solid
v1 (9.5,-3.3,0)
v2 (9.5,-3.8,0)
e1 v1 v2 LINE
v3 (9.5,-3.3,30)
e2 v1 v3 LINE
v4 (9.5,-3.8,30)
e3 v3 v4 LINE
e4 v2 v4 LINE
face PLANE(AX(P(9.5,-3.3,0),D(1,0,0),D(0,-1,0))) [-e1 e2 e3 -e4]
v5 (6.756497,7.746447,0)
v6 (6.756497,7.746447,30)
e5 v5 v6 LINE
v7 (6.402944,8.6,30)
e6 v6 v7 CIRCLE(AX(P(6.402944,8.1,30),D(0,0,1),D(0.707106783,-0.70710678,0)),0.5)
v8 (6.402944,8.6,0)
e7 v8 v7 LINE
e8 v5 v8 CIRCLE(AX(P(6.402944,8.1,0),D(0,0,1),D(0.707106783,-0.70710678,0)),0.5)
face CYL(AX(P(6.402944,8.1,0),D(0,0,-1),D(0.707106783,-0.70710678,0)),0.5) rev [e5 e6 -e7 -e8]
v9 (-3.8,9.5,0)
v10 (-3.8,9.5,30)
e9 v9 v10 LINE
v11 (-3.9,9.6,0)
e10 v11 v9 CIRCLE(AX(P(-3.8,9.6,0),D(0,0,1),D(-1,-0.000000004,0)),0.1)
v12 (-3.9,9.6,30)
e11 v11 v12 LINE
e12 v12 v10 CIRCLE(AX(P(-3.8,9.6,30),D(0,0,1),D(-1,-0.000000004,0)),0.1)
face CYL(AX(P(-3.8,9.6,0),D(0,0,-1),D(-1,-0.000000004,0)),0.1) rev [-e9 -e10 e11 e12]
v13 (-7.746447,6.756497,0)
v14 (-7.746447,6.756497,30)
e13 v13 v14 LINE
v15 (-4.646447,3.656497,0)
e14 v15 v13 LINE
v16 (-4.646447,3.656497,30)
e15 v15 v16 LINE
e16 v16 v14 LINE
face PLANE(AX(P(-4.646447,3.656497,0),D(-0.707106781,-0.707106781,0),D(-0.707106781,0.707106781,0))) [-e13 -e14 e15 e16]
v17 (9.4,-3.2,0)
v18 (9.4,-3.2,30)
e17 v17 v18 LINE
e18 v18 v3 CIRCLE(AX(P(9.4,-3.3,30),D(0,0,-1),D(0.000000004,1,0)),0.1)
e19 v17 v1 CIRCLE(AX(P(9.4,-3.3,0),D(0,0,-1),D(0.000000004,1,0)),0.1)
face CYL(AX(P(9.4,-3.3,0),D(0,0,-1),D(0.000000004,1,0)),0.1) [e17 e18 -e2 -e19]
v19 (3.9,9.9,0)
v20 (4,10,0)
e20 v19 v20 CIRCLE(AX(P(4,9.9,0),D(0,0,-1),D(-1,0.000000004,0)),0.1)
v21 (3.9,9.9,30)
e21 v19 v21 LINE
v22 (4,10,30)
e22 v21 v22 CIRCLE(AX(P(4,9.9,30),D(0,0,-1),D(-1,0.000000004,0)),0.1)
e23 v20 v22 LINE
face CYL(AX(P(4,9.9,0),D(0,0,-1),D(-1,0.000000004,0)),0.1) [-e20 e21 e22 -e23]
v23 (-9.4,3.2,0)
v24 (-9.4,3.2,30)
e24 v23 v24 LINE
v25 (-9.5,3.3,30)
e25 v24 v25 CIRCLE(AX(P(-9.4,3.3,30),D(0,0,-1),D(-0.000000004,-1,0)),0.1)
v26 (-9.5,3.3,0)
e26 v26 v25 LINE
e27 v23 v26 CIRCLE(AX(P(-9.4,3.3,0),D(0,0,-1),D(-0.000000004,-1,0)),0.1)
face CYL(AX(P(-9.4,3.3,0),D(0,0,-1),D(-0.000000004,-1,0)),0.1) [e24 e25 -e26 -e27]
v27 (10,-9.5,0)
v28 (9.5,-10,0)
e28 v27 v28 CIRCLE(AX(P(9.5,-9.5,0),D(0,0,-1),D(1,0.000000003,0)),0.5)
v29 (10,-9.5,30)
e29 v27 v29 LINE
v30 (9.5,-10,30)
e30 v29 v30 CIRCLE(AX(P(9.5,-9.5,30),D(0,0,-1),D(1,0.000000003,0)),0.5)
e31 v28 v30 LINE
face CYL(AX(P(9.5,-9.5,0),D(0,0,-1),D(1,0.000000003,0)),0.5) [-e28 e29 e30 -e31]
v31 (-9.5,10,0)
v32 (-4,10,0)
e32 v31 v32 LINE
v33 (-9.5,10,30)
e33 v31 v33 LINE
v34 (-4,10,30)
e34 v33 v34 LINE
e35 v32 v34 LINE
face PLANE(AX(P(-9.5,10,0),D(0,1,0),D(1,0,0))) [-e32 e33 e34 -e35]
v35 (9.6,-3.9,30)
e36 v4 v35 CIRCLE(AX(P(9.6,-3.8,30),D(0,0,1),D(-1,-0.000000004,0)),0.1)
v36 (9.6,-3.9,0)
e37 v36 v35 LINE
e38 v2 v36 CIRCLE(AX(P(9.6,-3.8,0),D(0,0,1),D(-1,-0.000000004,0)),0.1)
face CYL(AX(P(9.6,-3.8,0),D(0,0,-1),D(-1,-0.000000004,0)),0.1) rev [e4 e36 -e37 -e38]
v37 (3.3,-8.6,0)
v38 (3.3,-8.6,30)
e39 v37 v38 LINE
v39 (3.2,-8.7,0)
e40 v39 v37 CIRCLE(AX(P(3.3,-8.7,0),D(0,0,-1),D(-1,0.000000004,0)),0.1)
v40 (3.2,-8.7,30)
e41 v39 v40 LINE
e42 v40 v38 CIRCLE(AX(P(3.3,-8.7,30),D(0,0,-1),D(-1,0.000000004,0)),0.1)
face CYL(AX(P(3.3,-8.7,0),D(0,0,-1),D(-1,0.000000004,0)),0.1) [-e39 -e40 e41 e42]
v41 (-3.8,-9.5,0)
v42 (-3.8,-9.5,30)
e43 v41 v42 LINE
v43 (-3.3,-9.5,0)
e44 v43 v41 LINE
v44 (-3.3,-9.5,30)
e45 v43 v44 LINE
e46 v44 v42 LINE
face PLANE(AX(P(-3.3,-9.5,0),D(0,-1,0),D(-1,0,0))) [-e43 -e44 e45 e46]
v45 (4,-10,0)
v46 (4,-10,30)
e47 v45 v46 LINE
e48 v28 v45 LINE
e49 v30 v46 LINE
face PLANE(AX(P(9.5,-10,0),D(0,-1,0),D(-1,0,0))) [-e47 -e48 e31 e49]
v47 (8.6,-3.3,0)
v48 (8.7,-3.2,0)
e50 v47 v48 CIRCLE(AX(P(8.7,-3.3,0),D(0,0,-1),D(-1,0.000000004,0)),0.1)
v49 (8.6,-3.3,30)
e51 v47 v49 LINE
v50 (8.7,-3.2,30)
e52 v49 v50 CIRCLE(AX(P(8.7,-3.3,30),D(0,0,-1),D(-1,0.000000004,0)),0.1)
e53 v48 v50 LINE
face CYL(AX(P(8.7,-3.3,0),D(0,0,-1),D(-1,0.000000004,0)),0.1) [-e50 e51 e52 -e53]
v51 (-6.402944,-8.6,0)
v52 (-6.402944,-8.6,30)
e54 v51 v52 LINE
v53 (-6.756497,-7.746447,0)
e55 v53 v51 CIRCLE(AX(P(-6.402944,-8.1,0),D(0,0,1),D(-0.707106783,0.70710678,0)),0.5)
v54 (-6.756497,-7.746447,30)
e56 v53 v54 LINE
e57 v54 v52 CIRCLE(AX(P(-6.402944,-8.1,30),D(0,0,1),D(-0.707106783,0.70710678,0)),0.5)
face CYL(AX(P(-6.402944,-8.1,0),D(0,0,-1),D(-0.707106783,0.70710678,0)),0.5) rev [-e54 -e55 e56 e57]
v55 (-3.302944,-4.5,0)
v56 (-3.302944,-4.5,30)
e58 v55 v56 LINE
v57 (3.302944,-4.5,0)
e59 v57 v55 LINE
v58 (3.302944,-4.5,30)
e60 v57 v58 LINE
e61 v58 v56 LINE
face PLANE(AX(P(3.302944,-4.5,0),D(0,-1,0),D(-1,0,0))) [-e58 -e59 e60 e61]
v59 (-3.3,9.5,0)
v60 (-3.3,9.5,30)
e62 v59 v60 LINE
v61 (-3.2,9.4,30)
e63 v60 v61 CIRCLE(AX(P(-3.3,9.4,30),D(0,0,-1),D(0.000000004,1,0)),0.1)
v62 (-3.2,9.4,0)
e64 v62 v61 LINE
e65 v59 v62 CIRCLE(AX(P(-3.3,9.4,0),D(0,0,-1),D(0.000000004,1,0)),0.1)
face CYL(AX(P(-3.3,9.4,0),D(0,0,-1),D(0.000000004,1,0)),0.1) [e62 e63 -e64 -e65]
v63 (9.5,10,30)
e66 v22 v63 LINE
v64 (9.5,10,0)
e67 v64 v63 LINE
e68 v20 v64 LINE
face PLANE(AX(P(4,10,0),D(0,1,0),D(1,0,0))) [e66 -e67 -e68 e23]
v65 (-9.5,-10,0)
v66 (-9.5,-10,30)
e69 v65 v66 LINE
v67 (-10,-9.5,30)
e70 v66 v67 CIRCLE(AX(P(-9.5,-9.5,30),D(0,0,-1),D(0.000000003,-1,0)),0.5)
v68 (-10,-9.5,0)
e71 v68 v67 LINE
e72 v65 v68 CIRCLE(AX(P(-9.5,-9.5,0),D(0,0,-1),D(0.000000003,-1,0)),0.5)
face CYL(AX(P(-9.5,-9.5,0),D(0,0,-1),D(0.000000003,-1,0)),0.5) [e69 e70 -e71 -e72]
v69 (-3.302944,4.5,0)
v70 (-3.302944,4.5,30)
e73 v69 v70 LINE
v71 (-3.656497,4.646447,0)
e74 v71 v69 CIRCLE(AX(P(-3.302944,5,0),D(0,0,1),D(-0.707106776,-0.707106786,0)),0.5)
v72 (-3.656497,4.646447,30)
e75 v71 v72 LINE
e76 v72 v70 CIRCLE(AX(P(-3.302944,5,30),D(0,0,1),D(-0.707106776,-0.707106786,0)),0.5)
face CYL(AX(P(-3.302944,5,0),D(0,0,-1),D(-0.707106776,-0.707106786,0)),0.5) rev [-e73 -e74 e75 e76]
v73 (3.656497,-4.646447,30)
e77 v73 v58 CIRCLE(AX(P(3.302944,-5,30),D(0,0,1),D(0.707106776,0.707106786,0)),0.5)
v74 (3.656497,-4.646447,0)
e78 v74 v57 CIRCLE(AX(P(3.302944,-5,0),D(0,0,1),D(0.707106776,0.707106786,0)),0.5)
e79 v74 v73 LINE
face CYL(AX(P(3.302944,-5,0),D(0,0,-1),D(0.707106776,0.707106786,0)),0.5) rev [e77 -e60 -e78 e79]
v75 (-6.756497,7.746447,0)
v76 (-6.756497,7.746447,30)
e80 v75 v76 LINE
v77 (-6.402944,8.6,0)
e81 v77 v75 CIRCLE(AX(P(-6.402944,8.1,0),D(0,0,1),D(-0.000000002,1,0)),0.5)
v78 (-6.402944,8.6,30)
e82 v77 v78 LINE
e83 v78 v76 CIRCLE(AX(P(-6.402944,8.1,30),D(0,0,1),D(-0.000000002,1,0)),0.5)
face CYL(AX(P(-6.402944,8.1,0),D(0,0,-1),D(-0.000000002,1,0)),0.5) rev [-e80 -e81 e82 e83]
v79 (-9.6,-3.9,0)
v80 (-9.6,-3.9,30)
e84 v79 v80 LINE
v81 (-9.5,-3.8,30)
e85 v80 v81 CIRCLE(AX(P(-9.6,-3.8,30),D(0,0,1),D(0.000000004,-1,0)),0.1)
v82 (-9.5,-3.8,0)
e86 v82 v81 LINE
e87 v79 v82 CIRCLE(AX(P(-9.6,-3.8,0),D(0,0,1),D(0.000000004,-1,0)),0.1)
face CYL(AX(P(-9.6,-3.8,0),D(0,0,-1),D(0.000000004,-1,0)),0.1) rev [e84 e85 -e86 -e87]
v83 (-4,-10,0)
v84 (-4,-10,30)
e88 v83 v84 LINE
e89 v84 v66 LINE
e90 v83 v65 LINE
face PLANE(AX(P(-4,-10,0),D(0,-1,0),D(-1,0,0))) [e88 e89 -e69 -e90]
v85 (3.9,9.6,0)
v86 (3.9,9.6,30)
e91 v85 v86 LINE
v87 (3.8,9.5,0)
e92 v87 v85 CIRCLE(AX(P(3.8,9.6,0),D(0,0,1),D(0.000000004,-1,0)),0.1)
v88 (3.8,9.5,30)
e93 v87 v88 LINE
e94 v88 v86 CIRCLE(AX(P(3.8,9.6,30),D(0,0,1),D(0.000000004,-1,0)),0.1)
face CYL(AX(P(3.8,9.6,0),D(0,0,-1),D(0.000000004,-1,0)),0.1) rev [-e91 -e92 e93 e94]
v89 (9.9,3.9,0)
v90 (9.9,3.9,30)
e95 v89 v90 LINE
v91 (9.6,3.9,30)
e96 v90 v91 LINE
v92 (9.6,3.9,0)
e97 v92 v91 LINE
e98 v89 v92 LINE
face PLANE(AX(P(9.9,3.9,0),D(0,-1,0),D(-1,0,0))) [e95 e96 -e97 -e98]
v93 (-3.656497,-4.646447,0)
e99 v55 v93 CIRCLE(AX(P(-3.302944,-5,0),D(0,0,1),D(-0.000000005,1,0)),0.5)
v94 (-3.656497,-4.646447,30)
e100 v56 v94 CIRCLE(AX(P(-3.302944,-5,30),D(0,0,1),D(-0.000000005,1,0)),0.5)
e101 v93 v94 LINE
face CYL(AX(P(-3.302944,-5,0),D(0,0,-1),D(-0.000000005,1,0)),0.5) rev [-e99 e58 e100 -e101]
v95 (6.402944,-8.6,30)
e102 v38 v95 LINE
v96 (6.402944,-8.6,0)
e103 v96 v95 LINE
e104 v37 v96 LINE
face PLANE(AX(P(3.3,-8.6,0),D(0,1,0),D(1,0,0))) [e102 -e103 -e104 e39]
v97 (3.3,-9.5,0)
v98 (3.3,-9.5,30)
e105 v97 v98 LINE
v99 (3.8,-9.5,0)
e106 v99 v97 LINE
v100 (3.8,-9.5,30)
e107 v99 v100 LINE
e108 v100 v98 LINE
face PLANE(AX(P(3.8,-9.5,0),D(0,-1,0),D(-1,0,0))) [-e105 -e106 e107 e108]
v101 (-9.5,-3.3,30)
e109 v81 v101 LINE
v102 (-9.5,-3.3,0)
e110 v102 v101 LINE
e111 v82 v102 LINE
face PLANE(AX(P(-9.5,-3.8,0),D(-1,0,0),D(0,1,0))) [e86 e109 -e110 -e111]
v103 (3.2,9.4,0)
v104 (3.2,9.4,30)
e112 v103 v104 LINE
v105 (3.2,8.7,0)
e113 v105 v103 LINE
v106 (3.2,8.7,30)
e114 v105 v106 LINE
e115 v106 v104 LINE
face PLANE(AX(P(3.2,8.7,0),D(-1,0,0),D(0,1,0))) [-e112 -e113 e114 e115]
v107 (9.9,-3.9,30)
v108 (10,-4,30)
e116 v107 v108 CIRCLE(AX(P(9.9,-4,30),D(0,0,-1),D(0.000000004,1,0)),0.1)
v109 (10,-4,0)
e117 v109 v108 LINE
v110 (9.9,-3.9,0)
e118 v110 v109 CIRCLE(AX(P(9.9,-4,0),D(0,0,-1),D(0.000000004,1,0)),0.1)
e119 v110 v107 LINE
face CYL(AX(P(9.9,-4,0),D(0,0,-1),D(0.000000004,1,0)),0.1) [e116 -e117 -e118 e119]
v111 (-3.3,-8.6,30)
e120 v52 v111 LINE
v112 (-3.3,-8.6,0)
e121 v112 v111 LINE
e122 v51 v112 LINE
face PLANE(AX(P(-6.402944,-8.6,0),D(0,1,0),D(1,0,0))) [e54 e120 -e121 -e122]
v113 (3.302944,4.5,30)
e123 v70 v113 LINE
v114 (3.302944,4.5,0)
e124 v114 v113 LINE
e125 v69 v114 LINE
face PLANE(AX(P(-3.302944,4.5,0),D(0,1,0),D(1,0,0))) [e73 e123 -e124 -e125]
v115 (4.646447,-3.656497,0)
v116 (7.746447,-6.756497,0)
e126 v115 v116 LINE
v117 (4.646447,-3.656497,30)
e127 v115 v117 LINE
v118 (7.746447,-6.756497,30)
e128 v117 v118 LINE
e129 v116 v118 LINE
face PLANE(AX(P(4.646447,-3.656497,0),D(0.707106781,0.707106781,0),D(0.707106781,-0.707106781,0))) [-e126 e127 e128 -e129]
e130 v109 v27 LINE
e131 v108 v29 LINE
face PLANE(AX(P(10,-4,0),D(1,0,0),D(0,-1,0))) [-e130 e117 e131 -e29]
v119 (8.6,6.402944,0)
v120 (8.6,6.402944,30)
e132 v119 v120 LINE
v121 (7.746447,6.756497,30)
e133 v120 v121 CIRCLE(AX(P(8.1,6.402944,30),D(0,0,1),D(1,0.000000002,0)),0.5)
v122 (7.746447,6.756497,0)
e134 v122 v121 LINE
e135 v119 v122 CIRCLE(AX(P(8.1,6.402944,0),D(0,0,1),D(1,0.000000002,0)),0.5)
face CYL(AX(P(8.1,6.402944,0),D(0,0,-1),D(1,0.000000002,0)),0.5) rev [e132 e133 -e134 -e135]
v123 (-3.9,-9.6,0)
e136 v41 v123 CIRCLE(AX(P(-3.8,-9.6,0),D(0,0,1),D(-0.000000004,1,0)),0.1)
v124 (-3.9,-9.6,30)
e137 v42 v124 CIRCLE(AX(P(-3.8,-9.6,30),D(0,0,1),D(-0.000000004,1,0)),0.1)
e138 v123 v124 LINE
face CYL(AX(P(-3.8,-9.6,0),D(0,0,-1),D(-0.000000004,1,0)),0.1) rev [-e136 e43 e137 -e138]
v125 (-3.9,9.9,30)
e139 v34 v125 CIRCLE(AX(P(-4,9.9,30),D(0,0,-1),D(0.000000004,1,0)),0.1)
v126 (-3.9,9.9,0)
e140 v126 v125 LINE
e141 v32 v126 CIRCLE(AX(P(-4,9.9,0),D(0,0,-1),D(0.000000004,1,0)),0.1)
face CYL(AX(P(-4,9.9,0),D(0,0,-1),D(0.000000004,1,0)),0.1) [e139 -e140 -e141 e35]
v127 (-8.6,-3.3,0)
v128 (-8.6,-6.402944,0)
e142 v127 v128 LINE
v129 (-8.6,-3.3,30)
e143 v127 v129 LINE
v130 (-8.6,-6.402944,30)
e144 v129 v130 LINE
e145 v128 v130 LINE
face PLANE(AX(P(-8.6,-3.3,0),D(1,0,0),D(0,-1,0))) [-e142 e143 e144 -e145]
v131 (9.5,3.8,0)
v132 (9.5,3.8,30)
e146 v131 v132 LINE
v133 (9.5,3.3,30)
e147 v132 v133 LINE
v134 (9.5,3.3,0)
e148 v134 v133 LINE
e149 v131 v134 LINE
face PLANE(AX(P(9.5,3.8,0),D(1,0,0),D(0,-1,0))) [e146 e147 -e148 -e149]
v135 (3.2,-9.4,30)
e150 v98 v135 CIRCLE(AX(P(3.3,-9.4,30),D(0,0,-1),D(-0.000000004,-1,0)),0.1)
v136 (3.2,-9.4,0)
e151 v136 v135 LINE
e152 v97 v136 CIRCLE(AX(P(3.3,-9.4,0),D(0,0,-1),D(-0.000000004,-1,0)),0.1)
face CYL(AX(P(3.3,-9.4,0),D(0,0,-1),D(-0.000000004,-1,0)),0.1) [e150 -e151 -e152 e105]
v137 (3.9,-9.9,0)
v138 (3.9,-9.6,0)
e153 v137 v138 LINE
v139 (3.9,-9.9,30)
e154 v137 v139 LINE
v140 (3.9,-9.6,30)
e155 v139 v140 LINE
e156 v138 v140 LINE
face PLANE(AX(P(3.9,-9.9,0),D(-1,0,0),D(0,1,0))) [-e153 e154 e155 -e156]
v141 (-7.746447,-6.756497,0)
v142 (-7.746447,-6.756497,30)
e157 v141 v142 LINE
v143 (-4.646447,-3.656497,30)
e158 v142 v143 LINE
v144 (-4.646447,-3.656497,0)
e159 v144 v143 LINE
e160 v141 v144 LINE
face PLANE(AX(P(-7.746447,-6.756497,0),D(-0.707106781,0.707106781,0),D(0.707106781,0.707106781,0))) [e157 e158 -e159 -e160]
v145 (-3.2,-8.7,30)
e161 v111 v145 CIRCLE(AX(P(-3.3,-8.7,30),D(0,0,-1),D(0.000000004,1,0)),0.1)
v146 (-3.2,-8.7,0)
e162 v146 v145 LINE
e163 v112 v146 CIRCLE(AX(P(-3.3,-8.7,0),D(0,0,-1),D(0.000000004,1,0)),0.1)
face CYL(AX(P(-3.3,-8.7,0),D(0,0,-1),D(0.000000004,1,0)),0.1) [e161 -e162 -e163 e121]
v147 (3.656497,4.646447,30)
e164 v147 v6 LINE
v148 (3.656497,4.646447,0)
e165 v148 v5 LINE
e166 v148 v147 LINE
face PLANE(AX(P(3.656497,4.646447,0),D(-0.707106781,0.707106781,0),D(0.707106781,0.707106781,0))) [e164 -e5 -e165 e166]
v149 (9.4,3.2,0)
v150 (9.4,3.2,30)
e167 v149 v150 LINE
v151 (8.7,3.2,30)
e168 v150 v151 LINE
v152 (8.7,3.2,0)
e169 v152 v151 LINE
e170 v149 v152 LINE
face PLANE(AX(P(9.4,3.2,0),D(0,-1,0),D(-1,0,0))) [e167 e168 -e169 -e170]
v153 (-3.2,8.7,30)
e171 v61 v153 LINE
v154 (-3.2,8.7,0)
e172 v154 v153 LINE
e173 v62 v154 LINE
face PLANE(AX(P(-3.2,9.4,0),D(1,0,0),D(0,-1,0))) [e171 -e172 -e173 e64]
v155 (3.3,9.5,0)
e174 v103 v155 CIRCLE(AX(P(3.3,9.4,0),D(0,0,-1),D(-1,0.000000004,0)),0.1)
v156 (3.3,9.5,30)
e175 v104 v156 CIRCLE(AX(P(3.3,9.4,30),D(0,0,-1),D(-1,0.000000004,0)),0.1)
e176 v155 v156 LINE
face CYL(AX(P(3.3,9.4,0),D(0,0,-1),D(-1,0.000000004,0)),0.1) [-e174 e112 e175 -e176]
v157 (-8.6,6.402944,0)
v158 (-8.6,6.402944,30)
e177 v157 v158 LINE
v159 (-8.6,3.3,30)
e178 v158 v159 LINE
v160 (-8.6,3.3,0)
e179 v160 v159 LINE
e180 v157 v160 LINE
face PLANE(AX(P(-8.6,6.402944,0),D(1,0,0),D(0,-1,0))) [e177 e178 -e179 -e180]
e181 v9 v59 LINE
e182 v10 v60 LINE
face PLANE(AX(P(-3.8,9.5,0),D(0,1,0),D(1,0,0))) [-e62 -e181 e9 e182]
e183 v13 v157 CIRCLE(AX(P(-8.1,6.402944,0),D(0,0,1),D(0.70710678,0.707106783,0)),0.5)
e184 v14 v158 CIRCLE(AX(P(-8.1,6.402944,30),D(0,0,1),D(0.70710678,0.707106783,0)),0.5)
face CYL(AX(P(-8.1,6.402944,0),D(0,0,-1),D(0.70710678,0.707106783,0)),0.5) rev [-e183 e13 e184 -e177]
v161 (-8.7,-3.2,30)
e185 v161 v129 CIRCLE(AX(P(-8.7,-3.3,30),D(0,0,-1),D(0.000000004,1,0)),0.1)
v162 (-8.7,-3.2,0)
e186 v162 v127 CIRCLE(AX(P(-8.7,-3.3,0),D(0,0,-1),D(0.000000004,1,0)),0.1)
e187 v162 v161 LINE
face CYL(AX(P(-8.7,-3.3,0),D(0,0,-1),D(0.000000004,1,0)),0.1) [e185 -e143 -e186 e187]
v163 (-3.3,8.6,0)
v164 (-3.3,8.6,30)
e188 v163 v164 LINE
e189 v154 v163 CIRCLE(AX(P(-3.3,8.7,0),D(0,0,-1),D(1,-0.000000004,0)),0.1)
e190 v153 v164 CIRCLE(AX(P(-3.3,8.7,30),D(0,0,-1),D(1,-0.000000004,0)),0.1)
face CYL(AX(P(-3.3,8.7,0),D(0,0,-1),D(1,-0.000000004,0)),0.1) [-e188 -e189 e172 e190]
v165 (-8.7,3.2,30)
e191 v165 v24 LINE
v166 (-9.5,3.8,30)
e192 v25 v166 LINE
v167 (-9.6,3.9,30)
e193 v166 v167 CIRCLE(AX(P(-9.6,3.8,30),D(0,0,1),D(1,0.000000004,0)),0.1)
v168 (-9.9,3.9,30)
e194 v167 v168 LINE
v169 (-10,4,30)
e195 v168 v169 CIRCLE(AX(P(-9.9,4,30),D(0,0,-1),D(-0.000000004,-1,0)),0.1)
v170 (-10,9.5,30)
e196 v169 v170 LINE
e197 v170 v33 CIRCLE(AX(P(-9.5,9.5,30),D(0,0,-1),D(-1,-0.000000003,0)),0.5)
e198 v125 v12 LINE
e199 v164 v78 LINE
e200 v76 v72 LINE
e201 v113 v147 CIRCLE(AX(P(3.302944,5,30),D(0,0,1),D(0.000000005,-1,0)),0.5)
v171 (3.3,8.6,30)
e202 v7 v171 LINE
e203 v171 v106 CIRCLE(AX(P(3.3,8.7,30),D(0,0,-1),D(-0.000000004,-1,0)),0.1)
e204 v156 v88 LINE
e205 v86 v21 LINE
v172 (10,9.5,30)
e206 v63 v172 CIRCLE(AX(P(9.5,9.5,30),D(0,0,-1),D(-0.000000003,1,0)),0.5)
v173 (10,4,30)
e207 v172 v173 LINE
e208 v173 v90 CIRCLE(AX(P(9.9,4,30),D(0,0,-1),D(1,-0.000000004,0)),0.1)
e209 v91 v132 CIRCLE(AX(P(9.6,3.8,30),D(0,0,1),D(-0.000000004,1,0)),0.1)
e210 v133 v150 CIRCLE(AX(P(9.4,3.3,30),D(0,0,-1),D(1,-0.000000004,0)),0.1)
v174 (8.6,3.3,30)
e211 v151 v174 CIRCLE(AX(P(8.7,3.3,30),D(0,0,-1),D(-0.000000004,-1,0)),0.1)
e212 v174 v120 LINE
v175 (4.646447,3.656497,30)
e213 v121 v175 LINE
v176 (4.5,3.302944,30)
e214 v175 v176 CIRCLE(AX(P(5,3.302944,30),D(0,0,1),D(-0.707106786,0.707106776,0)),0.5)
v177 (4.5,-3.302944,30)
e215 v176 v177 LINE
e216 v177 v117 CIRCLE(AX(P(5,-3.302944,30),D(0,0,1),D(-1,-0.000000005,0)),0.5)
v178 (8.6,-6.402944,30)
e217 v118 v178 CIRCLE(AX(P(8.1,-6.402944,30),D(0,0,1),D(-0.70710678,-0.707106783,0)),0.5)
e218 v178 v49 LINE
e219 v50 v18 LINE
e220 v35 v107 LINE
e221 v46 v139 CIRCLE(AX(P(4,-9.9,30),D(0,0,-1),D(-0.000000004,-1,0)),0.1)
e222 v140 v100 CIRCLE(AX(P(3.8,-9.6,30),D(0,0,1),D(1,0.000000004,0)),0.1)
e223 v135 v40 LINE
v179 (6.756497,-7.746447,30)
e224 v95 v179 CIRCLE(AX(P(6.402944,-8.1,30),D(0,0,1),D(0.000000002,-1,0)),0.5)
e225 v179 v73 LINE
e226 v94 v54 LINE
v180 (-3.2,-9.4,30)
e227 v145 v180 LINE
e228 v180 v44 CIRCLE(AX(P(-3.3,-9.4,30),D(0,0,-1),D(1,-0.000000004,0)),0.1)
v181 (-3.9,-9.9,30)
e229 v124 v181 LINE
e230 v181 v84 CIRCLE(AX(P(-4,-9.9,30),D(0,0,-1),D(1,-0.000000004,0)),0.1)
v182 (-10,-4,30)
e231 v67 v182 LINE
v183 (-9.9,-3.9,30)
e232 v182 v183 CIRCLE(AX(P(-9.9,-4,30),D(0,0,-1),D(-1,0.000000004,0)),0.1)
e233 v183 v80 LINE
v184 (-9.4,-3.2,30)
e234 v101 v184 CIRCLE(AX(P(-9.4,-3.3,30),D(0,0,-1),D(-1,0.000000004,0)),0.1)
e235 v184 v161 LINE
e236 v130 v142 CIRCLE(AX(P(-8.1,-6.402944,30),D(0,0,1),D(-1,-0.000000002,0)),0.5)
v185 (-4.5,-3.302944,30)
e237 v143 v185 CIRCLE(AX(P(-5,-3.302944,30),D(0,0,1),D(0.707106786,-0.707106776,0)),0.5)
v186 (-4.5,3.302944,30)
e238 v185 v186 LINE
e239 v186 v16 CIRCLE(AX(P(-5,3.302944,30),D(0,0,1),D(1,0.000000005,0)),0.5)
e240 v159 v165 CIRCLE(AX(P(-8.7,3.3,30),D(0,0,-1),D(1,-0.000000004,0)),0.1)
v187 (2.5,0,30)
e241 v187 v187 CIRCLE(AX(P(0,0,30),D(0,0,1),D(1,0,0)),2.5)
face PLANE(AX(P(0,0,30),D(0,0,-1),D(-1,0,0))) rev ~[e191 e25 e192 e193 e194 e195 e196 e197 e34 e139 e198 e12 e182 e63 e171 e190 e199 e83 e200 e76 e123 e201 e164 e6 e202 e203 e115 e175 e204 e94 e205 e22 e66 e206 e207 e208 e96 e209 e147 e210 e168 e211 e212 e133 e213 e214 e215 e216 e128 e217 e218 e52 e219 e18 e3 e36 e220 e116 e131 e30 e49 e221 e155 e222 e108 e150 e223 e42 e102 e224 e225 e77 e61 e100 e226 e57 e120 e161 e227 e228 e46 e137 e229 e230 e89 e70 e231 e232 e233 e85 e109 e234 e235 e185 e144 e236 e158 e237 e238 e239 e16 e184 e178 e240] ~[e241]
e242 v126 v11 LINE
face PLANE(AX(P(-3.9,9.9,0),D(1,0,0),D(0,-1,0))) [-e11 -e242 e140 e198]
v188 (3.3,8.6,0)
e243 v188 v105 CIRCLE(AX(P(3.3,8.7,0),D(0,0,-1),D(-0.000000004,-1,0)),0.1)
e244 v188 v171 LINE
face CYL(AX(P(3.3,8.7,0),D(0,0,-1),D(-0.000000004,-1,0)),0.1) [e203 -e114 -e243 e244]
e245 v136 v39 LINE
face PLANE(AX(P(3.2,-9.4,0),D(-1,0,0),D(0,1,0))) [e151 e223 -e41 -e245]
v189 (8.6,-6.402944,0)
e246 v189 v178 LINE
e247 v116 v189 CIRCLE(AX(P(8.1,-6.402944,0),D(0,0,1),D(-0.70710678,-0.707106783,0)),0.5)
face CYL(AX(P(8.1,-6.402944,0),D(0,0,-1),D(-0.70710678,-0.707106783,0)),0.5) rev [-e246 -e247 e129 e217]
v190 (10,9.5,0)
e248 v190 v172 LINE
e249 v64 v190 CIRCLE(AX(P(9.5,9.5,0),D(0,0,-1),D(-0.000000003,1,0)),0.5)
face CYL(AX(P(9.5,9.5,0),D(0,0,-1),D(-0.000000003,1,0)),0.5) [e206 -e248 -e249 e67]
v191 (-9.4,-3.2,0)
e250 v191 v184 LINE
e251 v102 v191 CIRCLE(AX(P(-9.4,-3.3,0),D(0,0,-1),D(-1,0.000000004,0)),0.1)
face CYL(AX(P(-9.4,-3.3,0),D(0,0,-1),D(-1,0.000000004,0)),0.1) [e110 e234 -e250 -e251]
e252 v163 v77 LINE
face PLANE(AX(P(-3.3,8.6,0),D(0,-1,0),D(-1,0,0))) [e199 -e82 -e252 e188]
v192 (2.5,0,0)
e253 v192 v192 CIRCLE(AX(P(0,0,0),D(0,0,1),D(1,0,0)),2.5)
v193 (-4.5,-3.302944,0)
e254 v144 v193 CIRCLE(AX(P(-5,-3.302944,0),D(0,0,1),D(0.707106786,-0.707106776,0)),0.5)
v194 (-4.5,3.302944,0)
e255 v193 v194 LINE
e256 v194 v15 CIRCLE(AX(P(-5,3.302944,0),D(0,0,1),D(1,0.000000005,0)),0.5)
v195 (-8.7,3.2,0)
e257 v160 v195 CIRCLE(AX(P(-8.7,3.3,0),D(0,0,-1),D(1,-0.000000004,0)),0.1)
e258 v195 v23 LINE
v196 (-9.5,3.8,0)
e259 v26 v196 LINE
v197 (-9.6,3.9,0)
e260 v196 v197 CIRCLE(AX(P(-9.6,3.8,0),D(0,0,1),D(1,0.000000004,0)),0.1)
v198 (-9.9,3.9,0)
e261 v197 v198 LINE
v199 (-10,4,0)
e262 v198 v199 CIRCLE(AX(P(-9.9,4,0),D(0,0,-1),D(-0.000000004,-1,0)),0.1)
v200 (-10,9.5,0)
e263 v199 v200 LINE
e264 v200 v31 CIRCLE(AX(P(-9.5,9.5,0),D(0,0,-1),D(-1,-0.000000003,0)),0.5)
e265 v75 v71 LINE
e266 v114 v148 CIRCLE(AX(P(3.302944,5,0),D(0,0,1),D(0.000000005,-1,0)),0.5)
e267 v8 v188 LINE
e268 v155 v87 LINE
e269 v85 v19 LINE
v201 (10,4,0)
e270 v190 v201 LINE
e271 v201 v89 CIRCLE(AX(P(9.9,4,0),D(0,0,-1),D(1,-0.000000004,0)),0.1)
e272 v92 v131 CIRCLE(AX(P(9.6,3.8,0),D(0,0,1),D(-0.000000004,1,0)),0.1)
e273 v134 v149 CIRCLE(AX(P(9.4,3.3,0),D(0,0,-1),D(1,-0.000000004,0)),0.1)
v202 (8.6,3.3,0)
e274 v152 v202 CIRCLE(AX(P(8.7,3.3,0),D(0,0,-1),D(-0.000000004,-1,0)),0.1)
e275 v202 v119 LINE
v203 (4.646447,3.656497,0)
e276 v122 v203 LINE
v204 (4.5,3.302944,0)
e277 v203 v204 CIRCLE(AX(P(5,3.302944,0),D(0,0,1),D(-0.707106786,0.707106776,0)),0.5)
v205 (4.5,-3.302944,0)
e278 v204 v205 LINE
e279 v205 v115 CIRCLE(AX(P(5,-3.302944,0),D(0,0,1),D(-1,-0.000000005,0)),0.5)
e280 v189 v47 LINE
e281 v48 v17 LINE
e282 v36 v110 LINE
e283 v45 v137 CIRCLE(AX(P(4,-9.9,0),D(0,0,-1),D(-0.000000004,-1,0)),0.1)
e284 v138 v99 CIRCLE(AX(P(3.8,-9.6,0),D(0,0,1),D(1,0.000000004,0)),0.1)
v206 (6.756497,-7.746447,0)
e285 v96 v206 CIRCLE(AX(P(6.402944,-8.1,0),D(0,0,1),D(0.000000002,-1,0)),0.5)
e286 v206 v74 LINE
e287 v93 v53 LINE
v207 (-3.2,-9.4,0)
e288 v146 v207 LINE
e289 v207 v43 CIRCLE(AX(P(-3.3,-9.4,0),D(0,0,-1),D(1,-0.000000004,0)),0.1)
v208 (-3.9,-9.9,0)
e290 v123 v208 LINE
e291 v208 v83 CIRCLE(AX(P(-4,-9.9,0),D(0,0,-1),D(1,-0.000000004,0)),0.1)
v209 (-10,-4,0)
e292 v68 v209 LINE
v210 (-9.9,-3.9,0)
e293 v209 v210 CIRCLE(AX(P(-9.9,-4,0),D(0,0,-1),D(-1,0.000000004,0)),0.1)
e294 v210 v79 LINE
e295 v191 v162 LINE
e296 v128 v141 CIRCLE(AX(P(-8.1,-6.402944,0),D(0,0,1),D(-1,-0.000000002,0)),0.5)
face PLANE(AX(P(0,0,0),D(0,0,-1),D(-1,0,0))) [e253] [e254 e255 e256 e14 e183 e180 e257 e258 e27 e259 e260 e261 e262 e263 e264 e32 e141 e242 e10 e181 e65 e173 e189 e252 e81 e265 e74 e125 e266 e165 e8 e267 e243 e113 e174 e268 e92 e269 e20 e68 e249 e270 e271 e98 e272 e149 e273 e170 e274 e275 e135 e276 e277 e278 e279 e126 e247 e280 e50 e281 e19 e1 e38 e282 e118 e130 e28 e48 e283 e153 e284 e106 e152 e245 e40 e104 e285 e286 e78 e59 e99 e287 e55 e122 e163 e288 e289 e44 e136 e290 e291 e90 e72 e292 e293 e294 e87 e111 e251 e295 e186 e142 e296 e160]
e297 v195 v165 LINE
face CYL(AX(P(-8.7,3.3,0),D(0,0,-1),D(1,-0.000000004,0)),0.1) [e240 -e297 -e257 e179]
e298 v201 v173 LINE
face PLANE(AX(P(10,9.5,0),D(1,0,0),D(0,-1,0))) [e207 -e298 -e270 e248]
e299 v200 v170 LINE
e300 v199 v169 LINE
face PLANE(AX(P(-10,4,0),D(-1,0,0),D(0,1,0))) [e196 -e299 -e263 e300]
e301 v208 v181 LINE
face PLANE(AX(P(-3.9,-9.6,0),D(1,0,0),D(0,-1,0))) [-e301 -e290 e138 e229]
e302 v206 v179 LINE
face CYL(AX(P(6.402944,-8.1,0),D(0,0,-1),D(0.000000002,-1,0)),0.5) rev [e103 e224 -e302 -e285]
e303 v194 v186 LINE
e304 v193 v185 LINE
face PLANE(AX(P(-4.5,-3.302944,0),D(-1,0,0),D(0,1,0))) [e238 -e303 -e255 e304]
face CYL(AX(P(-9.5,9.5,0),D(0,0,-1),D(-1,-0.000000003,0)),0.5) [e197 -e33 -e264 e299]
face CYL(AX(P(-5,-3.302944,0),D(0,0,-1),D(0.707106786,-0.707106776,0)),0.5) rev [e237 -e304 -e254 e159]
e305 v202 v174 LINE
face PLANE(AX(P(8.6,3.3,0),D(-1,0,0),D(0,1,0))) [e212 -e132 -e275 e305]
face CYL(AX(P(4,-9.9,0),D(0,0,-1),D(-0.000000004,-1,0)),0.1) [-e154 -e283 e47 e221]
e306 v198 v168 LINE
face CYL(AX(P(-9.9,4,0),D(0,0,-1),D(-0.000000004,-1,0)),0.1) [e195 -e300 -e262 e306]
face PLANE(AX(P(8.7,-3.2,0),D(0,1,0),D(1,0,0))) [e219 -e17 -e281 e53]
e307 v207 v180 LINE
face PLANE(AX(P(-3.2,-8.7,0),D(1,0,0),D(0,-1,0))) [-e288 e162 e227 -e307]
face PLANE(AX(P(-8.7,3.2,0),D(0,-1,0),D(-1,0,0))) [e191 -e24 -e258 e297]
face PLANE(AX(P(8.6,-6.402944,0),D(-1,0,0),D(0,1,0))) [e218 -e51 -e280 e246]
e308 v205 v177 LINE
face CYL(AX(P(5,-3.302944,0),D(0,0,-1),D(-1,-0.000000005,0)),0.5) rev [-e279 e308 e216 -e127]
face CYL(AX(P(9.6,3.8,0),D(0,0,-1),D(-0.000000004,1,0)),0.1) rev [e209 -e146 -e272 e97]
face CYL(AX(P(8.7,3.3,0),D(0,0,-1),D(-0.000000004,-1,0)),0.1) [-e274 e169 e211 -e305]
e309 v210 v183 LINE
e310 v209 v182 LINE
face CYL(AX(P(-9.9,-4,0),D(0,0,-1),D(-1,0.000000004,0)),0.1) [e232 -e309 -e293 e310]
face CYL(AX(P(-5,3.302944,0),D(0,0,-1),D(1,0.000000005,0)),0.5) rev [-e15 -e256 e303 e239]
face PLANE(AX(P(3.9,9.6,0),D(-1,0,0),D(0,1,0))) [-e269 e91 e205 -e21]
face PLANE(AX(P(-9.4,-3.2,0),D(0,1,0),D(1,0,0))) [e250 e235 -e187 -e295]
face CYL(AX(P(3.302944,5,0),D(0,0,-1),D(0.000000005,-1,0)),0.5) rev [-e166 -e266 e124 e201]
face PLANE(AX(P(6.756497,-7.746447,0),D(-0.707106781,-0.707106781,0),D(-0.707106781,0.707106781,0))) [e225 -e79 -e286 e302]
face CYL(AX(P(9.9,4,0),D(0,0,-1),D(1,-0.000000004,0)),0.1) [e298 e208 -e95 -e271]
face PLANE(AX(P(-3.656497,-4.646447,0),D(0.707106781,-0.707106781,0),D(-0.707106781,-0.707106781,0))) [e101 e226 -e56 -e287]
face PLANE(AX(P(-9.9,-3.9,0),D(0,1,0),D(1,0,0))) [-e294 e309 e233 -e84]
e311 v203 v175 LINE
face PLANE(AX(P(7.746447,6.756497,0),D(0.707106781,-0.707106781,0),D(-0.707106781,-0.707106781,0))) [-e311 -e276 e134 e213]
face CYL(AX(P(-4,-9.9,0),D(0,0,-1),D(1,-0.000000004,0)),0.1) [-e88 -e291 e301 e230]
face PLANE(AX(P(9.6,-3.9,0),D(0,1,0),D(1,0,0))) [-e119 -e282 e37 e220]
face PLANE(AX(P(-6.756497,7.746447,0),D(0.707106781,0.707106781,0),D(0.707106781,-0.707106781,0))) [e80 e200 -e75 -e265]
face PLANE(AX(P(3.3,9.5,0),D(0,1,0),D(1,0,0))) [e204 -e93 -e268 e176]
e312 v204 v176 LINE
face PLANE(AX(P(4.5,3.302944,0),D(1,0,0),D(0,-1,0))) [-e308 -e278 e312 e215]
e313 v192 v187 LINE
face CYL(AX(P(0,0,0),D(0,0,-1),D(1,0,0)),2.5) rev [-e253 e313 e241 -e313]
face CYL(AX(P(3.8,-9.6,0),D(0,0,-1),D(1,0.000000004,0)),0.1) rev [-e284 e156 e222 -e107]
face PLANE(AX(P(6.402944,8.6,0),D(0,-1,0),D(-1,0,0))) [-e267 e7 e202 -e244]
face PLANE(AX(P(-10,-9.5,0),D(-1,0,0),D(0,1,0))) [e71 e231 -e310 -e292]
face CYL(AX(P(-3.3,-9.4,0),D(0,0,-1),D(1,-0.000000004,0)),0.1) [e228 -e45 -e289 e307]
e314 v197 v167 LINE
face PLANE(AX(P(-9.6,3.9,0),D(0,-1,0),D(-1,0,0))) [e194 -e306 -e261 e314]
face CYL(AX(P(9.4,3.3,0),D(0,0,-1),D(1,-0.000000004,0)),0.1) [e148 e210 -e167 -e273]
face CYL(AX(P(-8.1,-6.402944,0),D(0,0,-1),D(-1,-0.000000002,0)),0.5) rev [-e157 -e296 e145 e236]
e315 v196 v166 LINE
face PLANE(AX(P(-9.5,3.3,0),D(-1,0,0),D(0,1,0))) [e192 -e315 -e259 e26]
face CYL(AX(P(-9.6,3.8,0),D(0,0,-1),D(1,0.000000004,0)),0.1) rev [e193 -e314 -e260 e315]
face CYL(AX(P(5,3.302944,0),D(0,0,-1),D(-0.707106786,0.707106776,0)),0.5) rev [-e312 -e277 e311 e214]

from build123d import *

# Parameters (mm, degrees)
IZIM1_R                     = 2.5
Y_KSEKLIK_EKSTR_ZYON1_DEPTH = 30


with BuildPart() as part:
    # Çizim1 → Yükseklik-Ekstrüzyon1 (new body)
    with BuildSketch(Plane.XY):
        with BuildLine():
            Line((8.6, 3.3), (8.6, 6.402943725))
            ThreePointArc((8.6, 6.402943725), (8.291341716, 6.864883491), (7.746446609, 6.756497116))
            Line((7.746446609, 6.756497116), (4.646446609, 3.656497116))
            ThreePointArc((4.646446609, 3.656497116), (4.538060234, 3.494285441), (4.5, 3.302943725))
            Line((4.5, 3.302943725), (4.5, 0))
            Line((4.5, 0), (4.5, -3.302943725))
            ThreePointArc((4.5, -3.302943725), (4.538060234, -3.494285441), (4.646446609, -3.656497116))
            Line((4.646446609, -3.656497116), (7.746446609, -6.756497116))
            ThreePointArc((7.746446609, -6.756497116), (8.291341716, -6.864883491), (8.6, -6.402943725))
            Line((8.6, -6.402943725), (8.6, -3.3))
            ThreePointArc((8.6, -3.3), (8.629289322, -3.229289322), (8.7, -3.2))
            Line((8.7, -3.2), (9.4, -3.2))
            ThreePointArc((9.4, -3.2), (9.470710678, -3.229289322), (9.5, -3.3))
            Line((9.5, -3.3), (9.5, -3.8))
            ThreePointArc((9.5, -3.8), (9.529289322, -3.870710678), (9.6, -3.9))
            Line((9.6, -3.9), (9.9, -3.9))
            ThreePointArc((9.9, -3.9), (9.970710678, -3.929289322), (10, -4))
            Line((10, -4), (10, -9.5))
            ThreePointArc((10, -9.5), (9.853553391, -9.853553391), (9.5, -10))
            Line((9.5, -10), (4, -10))
            ThreePointArc((4, -10), (3.929289322, -9.970710678), (3.9, -9.9))
            Line((3.9, -9.9), (3.9, -9.6))
            ThreePointArc((3.9, -9.6), (3.870710678, -9.529289322), (3.8, -9.5))
            Line((3.8, -9.5), (3.3, -9.5))
            ThreePointArc((3.3, -9.5), (3.229289322, -9.470710678), (3.2, -9.4))
            Line((3.2, -9.4), (3.2, -8.7))
            ThreePointArc((3.2, -8.7), (3.229289322, -8.629289322), (3.3, -8.6))
            Line((3.3, -8.6), (6.402943725, -8.6))
            ThreePointArc((6.402943725, -8.6), (6.864883491, -8.291341716), (6.756497116, -7.746446609))
            Line((6.756497116, -7.746446609), (3.656497116, -4.646446609))
            ThreePointArc((3.656497116, -4.646446609), (3.494285441, -4.538060234), (3.302943725, -4.5))
            Line((3.302943725, -4.5), (0, -4.5))
            Line((0, -4.5), (-3.302943725, -4.5))
            ThreePointArc((-3.302943725, -4.5), (-3.494285441, -4.538060234), (-3.656497116, -4.646446609))
            Line((-3.656497116, -4.646446609), (-6.756497116, -7.746446609))
            ThreePointArc((-6.756497116, -7.746446609), (-6.864883491, -8.291341716), (-6.402943725, -8.6))
            Line((-6.402943725, -8.6), (-3.3, -8.6))
            ThreePointArc((-3.3, -8.6), (-3.229289322, -8.629289322), (-3.2, -8.7))
            Line((-3.2, -8.7), (-3.2, -9.4))
            ThreePointArc((-3.2, -9.4), (-3.229289322, -9.470710678), (-3.3, -9.5))
            Line((-3.3, -9.5), (-3.8, -9.5))
            ThreePointArc((-3.8, -9.5), (-3.870710678, -9.529289322), (-3.9, -9.6))
            Line((-3.9, -9.6), (-3.9, -9.9))
            ThreePointArc((-3.9, -9.9), (-3.929289322, -9.970710678), (-4, -10))
            Line((-4, -10), (-9.5, -10))
            ThreePointArc((-9.5, -10), (-9.853553391, -9.853553391), (-10, -9.5))
            Line((-10, -9.5), (-10, -4))
            ThreePointArc((-10, -4), (-9.970710678, -3.929289322), (-9.9, -3.9))
            Line((-9.9, -3.9), (-9.6, -3.9))
            ThreePointArc((-9.6, -3.9), (-9.529289322, -3.870710678), (-9.5, -3.8))
            Line((-9.5, -3.8), (-9.5, -3.3))
            ThreePointArc((-9.5, -3.3), (-9.470710678, -3.229289322), (-9.4, -3.2))
            Line((-9.4, -3.2), (-8.7, -3.2))
            ThreePointArc((-8.7, -3.2), (-8.629289322, -3.229289322), (-8.6, -3.3))
            Line((-8.6, -3.3), (-8.6, -6.402943725))
            ThreePointArc((-8.6, -6.402943725), (-8.291341716, -6.864883491), (-7.746446609, -6.756497116))
            Line((-7.746446609, -6.756497116), (-4.646446609, -3.656497116))
            ThreePointArc((-4.646446609, -3.656497116), (-4.538060234, -3.494285441), (-4.5, -3.302943725))
            Line((-4.5, -3.302943725), (-4.5, 0))
            Line((-4.5, 0), (-4.5, 3.302943725))
            ThreePointArc((-4.5, 3.302943725), (-4.538060234, 3.494285441), (-4.646446609, 3.656497116))
            Line((-4.646446609, 3.656497116), (-7.746446609, 6.756497116))
            ThreePointArc((-7.746446609, 6.756497116), (-8.291341716, 6.864883491), (-8.6, 6.402943725))
            Line((-8.6, 6.402943725), (-8.6, 3.3))
            ThreePointArc((-8.6, 3.3), (-8.629289322, 3.229289322), (-8.7, 3.2))
            Line((-8.7, 3.2), (-9.4, 3.2))
            ThreePointArc((-9.4, 3.2), (-9.470710678, 3.229289322), (-9.5, 3.3))
            Line((-9.5, 3.3), (-9.5, 3.8))
            ThreePointArc((-9.5, 3.8), (-9.529289322, 3.870710678), (-9.6, 3.9))
            Line((-9.6, 3.9), (-9.9, 3.9))
            ThreePointArc((-9.9, 3.9), (-9.970710678, 3.929289322), (-10, 4))
            Line((-10, 4), (-10, 9.5))
            ThreePointArc((-10, 9.5), (-9.853553391, 9.853553391), (-9.5, 10))
            Line((-9.5, 10), (-4, 10))
            ThreePointArc((-4, 10), (-3.929289322, 9.970710678), (-3.9, 9.9))
            Line((-3.9, 9.9), (-3.9, 9.6))
            ThreePointArc((-3.9, 9.6), (-3.870710678, 9.529289322), (-3.8, 9.5))
            Line((-3.8, 9.5), (-3.3, 9.5))
            ThreePointArc((-3.3, 9.5), (-3.229289322, 9.470710678), (-3.2, 9.4))
            Line((-3.2, 9.4), (-3.2, 8.7))
            ThreePointArc((-3.2, 8.7), (-3.229289322, 8.629289322), (-3.3, 8.6))
            Line((-3.3, 8.6), (-6.402943725, 8.6))
            ThreePointArc((-6.402943725, 8.6), (-6.864883491, 8.291341716), (-6.756497116, 7.746446609))
            Line((-6.756497116, 7.746446609), (-3.656497116, 4.646446609))
            ThreePointArc((-3.656497116, 4.646446609), (-3.494285441, 4.538060234), (-3.302943725, 4.5))
            Line((-3.302943725, 4.5), (0, 4.5))
            Line((0, 4.5), (3.302943725, 4.5))
            ThreePointArc((3.302943725, 4.5), (3.494285441, 4.538060234), (3.656497116, 4.646446609))
            Line((3.656497116, 4.646446609), (6.756497116, 7.746446609))
            ThreePointArc((6.756497116, 7.746446609), (6.864883491, 8.291341716), (6.402943725, 8.6))
            Line((6.402943725, 8.6), (3.3, 8.6))
            ThreePointArc((3.3, 8.6), (3.229289322, 8.629289322), (3.2, 8.7))
            Line((3.2, 8.7), (3.2, 9.4))
            ThreePointArc((3.2, 9.4), (3.229289322, 9.470710678), (3.3, 9.5))
            Line((3.3, 9.5), (3.8, 9.5))
            ThreePointArc((3.8, 9.5), (3.870710678, 9.529289322), (3.9, 9.6))
            Line((3.9, 9.6), (3.9, 9.9))
            ThreePointArc((3.9, 9.9), (3.929289322, 9.970710678), (4, 10))
            Line((4, 10), (9.5, 10))
            ThreePointArc((9.5, 10), (9.853553391, 9.853553391), (10, 9.5))
            Line((10, 9.5), (10, 4))
            ThreePointArc((10, 4), (9.970710678, 3.929289322), (9.9, 3.9))
            Line((9.9, 3.9), (9.6, 3.9))
            ThreePointArc((9.6, 3.9), (9.529289322, 3.870710678), (9.5, 3.8))
            Line((9.5, 3.8), (9.5, 3.3))
            ThreePointArc((9.5, 3.3), (9.470710678, 3.229289322), (9.4, 3.2))
            Line((9.4, 3.2), (8.7, 3.2))
            ThreePointArc((8.7, 3.2), (8.629289322, 3.229289322), (8.6, 3.3))
        make_face()
        Circle(IZIM1_R, mode=Mode.SUBTRACT)
    extrude(amount=Y_KSEKLIK_EKSTR_ZYON1_DEPTH)


solid = part.part
